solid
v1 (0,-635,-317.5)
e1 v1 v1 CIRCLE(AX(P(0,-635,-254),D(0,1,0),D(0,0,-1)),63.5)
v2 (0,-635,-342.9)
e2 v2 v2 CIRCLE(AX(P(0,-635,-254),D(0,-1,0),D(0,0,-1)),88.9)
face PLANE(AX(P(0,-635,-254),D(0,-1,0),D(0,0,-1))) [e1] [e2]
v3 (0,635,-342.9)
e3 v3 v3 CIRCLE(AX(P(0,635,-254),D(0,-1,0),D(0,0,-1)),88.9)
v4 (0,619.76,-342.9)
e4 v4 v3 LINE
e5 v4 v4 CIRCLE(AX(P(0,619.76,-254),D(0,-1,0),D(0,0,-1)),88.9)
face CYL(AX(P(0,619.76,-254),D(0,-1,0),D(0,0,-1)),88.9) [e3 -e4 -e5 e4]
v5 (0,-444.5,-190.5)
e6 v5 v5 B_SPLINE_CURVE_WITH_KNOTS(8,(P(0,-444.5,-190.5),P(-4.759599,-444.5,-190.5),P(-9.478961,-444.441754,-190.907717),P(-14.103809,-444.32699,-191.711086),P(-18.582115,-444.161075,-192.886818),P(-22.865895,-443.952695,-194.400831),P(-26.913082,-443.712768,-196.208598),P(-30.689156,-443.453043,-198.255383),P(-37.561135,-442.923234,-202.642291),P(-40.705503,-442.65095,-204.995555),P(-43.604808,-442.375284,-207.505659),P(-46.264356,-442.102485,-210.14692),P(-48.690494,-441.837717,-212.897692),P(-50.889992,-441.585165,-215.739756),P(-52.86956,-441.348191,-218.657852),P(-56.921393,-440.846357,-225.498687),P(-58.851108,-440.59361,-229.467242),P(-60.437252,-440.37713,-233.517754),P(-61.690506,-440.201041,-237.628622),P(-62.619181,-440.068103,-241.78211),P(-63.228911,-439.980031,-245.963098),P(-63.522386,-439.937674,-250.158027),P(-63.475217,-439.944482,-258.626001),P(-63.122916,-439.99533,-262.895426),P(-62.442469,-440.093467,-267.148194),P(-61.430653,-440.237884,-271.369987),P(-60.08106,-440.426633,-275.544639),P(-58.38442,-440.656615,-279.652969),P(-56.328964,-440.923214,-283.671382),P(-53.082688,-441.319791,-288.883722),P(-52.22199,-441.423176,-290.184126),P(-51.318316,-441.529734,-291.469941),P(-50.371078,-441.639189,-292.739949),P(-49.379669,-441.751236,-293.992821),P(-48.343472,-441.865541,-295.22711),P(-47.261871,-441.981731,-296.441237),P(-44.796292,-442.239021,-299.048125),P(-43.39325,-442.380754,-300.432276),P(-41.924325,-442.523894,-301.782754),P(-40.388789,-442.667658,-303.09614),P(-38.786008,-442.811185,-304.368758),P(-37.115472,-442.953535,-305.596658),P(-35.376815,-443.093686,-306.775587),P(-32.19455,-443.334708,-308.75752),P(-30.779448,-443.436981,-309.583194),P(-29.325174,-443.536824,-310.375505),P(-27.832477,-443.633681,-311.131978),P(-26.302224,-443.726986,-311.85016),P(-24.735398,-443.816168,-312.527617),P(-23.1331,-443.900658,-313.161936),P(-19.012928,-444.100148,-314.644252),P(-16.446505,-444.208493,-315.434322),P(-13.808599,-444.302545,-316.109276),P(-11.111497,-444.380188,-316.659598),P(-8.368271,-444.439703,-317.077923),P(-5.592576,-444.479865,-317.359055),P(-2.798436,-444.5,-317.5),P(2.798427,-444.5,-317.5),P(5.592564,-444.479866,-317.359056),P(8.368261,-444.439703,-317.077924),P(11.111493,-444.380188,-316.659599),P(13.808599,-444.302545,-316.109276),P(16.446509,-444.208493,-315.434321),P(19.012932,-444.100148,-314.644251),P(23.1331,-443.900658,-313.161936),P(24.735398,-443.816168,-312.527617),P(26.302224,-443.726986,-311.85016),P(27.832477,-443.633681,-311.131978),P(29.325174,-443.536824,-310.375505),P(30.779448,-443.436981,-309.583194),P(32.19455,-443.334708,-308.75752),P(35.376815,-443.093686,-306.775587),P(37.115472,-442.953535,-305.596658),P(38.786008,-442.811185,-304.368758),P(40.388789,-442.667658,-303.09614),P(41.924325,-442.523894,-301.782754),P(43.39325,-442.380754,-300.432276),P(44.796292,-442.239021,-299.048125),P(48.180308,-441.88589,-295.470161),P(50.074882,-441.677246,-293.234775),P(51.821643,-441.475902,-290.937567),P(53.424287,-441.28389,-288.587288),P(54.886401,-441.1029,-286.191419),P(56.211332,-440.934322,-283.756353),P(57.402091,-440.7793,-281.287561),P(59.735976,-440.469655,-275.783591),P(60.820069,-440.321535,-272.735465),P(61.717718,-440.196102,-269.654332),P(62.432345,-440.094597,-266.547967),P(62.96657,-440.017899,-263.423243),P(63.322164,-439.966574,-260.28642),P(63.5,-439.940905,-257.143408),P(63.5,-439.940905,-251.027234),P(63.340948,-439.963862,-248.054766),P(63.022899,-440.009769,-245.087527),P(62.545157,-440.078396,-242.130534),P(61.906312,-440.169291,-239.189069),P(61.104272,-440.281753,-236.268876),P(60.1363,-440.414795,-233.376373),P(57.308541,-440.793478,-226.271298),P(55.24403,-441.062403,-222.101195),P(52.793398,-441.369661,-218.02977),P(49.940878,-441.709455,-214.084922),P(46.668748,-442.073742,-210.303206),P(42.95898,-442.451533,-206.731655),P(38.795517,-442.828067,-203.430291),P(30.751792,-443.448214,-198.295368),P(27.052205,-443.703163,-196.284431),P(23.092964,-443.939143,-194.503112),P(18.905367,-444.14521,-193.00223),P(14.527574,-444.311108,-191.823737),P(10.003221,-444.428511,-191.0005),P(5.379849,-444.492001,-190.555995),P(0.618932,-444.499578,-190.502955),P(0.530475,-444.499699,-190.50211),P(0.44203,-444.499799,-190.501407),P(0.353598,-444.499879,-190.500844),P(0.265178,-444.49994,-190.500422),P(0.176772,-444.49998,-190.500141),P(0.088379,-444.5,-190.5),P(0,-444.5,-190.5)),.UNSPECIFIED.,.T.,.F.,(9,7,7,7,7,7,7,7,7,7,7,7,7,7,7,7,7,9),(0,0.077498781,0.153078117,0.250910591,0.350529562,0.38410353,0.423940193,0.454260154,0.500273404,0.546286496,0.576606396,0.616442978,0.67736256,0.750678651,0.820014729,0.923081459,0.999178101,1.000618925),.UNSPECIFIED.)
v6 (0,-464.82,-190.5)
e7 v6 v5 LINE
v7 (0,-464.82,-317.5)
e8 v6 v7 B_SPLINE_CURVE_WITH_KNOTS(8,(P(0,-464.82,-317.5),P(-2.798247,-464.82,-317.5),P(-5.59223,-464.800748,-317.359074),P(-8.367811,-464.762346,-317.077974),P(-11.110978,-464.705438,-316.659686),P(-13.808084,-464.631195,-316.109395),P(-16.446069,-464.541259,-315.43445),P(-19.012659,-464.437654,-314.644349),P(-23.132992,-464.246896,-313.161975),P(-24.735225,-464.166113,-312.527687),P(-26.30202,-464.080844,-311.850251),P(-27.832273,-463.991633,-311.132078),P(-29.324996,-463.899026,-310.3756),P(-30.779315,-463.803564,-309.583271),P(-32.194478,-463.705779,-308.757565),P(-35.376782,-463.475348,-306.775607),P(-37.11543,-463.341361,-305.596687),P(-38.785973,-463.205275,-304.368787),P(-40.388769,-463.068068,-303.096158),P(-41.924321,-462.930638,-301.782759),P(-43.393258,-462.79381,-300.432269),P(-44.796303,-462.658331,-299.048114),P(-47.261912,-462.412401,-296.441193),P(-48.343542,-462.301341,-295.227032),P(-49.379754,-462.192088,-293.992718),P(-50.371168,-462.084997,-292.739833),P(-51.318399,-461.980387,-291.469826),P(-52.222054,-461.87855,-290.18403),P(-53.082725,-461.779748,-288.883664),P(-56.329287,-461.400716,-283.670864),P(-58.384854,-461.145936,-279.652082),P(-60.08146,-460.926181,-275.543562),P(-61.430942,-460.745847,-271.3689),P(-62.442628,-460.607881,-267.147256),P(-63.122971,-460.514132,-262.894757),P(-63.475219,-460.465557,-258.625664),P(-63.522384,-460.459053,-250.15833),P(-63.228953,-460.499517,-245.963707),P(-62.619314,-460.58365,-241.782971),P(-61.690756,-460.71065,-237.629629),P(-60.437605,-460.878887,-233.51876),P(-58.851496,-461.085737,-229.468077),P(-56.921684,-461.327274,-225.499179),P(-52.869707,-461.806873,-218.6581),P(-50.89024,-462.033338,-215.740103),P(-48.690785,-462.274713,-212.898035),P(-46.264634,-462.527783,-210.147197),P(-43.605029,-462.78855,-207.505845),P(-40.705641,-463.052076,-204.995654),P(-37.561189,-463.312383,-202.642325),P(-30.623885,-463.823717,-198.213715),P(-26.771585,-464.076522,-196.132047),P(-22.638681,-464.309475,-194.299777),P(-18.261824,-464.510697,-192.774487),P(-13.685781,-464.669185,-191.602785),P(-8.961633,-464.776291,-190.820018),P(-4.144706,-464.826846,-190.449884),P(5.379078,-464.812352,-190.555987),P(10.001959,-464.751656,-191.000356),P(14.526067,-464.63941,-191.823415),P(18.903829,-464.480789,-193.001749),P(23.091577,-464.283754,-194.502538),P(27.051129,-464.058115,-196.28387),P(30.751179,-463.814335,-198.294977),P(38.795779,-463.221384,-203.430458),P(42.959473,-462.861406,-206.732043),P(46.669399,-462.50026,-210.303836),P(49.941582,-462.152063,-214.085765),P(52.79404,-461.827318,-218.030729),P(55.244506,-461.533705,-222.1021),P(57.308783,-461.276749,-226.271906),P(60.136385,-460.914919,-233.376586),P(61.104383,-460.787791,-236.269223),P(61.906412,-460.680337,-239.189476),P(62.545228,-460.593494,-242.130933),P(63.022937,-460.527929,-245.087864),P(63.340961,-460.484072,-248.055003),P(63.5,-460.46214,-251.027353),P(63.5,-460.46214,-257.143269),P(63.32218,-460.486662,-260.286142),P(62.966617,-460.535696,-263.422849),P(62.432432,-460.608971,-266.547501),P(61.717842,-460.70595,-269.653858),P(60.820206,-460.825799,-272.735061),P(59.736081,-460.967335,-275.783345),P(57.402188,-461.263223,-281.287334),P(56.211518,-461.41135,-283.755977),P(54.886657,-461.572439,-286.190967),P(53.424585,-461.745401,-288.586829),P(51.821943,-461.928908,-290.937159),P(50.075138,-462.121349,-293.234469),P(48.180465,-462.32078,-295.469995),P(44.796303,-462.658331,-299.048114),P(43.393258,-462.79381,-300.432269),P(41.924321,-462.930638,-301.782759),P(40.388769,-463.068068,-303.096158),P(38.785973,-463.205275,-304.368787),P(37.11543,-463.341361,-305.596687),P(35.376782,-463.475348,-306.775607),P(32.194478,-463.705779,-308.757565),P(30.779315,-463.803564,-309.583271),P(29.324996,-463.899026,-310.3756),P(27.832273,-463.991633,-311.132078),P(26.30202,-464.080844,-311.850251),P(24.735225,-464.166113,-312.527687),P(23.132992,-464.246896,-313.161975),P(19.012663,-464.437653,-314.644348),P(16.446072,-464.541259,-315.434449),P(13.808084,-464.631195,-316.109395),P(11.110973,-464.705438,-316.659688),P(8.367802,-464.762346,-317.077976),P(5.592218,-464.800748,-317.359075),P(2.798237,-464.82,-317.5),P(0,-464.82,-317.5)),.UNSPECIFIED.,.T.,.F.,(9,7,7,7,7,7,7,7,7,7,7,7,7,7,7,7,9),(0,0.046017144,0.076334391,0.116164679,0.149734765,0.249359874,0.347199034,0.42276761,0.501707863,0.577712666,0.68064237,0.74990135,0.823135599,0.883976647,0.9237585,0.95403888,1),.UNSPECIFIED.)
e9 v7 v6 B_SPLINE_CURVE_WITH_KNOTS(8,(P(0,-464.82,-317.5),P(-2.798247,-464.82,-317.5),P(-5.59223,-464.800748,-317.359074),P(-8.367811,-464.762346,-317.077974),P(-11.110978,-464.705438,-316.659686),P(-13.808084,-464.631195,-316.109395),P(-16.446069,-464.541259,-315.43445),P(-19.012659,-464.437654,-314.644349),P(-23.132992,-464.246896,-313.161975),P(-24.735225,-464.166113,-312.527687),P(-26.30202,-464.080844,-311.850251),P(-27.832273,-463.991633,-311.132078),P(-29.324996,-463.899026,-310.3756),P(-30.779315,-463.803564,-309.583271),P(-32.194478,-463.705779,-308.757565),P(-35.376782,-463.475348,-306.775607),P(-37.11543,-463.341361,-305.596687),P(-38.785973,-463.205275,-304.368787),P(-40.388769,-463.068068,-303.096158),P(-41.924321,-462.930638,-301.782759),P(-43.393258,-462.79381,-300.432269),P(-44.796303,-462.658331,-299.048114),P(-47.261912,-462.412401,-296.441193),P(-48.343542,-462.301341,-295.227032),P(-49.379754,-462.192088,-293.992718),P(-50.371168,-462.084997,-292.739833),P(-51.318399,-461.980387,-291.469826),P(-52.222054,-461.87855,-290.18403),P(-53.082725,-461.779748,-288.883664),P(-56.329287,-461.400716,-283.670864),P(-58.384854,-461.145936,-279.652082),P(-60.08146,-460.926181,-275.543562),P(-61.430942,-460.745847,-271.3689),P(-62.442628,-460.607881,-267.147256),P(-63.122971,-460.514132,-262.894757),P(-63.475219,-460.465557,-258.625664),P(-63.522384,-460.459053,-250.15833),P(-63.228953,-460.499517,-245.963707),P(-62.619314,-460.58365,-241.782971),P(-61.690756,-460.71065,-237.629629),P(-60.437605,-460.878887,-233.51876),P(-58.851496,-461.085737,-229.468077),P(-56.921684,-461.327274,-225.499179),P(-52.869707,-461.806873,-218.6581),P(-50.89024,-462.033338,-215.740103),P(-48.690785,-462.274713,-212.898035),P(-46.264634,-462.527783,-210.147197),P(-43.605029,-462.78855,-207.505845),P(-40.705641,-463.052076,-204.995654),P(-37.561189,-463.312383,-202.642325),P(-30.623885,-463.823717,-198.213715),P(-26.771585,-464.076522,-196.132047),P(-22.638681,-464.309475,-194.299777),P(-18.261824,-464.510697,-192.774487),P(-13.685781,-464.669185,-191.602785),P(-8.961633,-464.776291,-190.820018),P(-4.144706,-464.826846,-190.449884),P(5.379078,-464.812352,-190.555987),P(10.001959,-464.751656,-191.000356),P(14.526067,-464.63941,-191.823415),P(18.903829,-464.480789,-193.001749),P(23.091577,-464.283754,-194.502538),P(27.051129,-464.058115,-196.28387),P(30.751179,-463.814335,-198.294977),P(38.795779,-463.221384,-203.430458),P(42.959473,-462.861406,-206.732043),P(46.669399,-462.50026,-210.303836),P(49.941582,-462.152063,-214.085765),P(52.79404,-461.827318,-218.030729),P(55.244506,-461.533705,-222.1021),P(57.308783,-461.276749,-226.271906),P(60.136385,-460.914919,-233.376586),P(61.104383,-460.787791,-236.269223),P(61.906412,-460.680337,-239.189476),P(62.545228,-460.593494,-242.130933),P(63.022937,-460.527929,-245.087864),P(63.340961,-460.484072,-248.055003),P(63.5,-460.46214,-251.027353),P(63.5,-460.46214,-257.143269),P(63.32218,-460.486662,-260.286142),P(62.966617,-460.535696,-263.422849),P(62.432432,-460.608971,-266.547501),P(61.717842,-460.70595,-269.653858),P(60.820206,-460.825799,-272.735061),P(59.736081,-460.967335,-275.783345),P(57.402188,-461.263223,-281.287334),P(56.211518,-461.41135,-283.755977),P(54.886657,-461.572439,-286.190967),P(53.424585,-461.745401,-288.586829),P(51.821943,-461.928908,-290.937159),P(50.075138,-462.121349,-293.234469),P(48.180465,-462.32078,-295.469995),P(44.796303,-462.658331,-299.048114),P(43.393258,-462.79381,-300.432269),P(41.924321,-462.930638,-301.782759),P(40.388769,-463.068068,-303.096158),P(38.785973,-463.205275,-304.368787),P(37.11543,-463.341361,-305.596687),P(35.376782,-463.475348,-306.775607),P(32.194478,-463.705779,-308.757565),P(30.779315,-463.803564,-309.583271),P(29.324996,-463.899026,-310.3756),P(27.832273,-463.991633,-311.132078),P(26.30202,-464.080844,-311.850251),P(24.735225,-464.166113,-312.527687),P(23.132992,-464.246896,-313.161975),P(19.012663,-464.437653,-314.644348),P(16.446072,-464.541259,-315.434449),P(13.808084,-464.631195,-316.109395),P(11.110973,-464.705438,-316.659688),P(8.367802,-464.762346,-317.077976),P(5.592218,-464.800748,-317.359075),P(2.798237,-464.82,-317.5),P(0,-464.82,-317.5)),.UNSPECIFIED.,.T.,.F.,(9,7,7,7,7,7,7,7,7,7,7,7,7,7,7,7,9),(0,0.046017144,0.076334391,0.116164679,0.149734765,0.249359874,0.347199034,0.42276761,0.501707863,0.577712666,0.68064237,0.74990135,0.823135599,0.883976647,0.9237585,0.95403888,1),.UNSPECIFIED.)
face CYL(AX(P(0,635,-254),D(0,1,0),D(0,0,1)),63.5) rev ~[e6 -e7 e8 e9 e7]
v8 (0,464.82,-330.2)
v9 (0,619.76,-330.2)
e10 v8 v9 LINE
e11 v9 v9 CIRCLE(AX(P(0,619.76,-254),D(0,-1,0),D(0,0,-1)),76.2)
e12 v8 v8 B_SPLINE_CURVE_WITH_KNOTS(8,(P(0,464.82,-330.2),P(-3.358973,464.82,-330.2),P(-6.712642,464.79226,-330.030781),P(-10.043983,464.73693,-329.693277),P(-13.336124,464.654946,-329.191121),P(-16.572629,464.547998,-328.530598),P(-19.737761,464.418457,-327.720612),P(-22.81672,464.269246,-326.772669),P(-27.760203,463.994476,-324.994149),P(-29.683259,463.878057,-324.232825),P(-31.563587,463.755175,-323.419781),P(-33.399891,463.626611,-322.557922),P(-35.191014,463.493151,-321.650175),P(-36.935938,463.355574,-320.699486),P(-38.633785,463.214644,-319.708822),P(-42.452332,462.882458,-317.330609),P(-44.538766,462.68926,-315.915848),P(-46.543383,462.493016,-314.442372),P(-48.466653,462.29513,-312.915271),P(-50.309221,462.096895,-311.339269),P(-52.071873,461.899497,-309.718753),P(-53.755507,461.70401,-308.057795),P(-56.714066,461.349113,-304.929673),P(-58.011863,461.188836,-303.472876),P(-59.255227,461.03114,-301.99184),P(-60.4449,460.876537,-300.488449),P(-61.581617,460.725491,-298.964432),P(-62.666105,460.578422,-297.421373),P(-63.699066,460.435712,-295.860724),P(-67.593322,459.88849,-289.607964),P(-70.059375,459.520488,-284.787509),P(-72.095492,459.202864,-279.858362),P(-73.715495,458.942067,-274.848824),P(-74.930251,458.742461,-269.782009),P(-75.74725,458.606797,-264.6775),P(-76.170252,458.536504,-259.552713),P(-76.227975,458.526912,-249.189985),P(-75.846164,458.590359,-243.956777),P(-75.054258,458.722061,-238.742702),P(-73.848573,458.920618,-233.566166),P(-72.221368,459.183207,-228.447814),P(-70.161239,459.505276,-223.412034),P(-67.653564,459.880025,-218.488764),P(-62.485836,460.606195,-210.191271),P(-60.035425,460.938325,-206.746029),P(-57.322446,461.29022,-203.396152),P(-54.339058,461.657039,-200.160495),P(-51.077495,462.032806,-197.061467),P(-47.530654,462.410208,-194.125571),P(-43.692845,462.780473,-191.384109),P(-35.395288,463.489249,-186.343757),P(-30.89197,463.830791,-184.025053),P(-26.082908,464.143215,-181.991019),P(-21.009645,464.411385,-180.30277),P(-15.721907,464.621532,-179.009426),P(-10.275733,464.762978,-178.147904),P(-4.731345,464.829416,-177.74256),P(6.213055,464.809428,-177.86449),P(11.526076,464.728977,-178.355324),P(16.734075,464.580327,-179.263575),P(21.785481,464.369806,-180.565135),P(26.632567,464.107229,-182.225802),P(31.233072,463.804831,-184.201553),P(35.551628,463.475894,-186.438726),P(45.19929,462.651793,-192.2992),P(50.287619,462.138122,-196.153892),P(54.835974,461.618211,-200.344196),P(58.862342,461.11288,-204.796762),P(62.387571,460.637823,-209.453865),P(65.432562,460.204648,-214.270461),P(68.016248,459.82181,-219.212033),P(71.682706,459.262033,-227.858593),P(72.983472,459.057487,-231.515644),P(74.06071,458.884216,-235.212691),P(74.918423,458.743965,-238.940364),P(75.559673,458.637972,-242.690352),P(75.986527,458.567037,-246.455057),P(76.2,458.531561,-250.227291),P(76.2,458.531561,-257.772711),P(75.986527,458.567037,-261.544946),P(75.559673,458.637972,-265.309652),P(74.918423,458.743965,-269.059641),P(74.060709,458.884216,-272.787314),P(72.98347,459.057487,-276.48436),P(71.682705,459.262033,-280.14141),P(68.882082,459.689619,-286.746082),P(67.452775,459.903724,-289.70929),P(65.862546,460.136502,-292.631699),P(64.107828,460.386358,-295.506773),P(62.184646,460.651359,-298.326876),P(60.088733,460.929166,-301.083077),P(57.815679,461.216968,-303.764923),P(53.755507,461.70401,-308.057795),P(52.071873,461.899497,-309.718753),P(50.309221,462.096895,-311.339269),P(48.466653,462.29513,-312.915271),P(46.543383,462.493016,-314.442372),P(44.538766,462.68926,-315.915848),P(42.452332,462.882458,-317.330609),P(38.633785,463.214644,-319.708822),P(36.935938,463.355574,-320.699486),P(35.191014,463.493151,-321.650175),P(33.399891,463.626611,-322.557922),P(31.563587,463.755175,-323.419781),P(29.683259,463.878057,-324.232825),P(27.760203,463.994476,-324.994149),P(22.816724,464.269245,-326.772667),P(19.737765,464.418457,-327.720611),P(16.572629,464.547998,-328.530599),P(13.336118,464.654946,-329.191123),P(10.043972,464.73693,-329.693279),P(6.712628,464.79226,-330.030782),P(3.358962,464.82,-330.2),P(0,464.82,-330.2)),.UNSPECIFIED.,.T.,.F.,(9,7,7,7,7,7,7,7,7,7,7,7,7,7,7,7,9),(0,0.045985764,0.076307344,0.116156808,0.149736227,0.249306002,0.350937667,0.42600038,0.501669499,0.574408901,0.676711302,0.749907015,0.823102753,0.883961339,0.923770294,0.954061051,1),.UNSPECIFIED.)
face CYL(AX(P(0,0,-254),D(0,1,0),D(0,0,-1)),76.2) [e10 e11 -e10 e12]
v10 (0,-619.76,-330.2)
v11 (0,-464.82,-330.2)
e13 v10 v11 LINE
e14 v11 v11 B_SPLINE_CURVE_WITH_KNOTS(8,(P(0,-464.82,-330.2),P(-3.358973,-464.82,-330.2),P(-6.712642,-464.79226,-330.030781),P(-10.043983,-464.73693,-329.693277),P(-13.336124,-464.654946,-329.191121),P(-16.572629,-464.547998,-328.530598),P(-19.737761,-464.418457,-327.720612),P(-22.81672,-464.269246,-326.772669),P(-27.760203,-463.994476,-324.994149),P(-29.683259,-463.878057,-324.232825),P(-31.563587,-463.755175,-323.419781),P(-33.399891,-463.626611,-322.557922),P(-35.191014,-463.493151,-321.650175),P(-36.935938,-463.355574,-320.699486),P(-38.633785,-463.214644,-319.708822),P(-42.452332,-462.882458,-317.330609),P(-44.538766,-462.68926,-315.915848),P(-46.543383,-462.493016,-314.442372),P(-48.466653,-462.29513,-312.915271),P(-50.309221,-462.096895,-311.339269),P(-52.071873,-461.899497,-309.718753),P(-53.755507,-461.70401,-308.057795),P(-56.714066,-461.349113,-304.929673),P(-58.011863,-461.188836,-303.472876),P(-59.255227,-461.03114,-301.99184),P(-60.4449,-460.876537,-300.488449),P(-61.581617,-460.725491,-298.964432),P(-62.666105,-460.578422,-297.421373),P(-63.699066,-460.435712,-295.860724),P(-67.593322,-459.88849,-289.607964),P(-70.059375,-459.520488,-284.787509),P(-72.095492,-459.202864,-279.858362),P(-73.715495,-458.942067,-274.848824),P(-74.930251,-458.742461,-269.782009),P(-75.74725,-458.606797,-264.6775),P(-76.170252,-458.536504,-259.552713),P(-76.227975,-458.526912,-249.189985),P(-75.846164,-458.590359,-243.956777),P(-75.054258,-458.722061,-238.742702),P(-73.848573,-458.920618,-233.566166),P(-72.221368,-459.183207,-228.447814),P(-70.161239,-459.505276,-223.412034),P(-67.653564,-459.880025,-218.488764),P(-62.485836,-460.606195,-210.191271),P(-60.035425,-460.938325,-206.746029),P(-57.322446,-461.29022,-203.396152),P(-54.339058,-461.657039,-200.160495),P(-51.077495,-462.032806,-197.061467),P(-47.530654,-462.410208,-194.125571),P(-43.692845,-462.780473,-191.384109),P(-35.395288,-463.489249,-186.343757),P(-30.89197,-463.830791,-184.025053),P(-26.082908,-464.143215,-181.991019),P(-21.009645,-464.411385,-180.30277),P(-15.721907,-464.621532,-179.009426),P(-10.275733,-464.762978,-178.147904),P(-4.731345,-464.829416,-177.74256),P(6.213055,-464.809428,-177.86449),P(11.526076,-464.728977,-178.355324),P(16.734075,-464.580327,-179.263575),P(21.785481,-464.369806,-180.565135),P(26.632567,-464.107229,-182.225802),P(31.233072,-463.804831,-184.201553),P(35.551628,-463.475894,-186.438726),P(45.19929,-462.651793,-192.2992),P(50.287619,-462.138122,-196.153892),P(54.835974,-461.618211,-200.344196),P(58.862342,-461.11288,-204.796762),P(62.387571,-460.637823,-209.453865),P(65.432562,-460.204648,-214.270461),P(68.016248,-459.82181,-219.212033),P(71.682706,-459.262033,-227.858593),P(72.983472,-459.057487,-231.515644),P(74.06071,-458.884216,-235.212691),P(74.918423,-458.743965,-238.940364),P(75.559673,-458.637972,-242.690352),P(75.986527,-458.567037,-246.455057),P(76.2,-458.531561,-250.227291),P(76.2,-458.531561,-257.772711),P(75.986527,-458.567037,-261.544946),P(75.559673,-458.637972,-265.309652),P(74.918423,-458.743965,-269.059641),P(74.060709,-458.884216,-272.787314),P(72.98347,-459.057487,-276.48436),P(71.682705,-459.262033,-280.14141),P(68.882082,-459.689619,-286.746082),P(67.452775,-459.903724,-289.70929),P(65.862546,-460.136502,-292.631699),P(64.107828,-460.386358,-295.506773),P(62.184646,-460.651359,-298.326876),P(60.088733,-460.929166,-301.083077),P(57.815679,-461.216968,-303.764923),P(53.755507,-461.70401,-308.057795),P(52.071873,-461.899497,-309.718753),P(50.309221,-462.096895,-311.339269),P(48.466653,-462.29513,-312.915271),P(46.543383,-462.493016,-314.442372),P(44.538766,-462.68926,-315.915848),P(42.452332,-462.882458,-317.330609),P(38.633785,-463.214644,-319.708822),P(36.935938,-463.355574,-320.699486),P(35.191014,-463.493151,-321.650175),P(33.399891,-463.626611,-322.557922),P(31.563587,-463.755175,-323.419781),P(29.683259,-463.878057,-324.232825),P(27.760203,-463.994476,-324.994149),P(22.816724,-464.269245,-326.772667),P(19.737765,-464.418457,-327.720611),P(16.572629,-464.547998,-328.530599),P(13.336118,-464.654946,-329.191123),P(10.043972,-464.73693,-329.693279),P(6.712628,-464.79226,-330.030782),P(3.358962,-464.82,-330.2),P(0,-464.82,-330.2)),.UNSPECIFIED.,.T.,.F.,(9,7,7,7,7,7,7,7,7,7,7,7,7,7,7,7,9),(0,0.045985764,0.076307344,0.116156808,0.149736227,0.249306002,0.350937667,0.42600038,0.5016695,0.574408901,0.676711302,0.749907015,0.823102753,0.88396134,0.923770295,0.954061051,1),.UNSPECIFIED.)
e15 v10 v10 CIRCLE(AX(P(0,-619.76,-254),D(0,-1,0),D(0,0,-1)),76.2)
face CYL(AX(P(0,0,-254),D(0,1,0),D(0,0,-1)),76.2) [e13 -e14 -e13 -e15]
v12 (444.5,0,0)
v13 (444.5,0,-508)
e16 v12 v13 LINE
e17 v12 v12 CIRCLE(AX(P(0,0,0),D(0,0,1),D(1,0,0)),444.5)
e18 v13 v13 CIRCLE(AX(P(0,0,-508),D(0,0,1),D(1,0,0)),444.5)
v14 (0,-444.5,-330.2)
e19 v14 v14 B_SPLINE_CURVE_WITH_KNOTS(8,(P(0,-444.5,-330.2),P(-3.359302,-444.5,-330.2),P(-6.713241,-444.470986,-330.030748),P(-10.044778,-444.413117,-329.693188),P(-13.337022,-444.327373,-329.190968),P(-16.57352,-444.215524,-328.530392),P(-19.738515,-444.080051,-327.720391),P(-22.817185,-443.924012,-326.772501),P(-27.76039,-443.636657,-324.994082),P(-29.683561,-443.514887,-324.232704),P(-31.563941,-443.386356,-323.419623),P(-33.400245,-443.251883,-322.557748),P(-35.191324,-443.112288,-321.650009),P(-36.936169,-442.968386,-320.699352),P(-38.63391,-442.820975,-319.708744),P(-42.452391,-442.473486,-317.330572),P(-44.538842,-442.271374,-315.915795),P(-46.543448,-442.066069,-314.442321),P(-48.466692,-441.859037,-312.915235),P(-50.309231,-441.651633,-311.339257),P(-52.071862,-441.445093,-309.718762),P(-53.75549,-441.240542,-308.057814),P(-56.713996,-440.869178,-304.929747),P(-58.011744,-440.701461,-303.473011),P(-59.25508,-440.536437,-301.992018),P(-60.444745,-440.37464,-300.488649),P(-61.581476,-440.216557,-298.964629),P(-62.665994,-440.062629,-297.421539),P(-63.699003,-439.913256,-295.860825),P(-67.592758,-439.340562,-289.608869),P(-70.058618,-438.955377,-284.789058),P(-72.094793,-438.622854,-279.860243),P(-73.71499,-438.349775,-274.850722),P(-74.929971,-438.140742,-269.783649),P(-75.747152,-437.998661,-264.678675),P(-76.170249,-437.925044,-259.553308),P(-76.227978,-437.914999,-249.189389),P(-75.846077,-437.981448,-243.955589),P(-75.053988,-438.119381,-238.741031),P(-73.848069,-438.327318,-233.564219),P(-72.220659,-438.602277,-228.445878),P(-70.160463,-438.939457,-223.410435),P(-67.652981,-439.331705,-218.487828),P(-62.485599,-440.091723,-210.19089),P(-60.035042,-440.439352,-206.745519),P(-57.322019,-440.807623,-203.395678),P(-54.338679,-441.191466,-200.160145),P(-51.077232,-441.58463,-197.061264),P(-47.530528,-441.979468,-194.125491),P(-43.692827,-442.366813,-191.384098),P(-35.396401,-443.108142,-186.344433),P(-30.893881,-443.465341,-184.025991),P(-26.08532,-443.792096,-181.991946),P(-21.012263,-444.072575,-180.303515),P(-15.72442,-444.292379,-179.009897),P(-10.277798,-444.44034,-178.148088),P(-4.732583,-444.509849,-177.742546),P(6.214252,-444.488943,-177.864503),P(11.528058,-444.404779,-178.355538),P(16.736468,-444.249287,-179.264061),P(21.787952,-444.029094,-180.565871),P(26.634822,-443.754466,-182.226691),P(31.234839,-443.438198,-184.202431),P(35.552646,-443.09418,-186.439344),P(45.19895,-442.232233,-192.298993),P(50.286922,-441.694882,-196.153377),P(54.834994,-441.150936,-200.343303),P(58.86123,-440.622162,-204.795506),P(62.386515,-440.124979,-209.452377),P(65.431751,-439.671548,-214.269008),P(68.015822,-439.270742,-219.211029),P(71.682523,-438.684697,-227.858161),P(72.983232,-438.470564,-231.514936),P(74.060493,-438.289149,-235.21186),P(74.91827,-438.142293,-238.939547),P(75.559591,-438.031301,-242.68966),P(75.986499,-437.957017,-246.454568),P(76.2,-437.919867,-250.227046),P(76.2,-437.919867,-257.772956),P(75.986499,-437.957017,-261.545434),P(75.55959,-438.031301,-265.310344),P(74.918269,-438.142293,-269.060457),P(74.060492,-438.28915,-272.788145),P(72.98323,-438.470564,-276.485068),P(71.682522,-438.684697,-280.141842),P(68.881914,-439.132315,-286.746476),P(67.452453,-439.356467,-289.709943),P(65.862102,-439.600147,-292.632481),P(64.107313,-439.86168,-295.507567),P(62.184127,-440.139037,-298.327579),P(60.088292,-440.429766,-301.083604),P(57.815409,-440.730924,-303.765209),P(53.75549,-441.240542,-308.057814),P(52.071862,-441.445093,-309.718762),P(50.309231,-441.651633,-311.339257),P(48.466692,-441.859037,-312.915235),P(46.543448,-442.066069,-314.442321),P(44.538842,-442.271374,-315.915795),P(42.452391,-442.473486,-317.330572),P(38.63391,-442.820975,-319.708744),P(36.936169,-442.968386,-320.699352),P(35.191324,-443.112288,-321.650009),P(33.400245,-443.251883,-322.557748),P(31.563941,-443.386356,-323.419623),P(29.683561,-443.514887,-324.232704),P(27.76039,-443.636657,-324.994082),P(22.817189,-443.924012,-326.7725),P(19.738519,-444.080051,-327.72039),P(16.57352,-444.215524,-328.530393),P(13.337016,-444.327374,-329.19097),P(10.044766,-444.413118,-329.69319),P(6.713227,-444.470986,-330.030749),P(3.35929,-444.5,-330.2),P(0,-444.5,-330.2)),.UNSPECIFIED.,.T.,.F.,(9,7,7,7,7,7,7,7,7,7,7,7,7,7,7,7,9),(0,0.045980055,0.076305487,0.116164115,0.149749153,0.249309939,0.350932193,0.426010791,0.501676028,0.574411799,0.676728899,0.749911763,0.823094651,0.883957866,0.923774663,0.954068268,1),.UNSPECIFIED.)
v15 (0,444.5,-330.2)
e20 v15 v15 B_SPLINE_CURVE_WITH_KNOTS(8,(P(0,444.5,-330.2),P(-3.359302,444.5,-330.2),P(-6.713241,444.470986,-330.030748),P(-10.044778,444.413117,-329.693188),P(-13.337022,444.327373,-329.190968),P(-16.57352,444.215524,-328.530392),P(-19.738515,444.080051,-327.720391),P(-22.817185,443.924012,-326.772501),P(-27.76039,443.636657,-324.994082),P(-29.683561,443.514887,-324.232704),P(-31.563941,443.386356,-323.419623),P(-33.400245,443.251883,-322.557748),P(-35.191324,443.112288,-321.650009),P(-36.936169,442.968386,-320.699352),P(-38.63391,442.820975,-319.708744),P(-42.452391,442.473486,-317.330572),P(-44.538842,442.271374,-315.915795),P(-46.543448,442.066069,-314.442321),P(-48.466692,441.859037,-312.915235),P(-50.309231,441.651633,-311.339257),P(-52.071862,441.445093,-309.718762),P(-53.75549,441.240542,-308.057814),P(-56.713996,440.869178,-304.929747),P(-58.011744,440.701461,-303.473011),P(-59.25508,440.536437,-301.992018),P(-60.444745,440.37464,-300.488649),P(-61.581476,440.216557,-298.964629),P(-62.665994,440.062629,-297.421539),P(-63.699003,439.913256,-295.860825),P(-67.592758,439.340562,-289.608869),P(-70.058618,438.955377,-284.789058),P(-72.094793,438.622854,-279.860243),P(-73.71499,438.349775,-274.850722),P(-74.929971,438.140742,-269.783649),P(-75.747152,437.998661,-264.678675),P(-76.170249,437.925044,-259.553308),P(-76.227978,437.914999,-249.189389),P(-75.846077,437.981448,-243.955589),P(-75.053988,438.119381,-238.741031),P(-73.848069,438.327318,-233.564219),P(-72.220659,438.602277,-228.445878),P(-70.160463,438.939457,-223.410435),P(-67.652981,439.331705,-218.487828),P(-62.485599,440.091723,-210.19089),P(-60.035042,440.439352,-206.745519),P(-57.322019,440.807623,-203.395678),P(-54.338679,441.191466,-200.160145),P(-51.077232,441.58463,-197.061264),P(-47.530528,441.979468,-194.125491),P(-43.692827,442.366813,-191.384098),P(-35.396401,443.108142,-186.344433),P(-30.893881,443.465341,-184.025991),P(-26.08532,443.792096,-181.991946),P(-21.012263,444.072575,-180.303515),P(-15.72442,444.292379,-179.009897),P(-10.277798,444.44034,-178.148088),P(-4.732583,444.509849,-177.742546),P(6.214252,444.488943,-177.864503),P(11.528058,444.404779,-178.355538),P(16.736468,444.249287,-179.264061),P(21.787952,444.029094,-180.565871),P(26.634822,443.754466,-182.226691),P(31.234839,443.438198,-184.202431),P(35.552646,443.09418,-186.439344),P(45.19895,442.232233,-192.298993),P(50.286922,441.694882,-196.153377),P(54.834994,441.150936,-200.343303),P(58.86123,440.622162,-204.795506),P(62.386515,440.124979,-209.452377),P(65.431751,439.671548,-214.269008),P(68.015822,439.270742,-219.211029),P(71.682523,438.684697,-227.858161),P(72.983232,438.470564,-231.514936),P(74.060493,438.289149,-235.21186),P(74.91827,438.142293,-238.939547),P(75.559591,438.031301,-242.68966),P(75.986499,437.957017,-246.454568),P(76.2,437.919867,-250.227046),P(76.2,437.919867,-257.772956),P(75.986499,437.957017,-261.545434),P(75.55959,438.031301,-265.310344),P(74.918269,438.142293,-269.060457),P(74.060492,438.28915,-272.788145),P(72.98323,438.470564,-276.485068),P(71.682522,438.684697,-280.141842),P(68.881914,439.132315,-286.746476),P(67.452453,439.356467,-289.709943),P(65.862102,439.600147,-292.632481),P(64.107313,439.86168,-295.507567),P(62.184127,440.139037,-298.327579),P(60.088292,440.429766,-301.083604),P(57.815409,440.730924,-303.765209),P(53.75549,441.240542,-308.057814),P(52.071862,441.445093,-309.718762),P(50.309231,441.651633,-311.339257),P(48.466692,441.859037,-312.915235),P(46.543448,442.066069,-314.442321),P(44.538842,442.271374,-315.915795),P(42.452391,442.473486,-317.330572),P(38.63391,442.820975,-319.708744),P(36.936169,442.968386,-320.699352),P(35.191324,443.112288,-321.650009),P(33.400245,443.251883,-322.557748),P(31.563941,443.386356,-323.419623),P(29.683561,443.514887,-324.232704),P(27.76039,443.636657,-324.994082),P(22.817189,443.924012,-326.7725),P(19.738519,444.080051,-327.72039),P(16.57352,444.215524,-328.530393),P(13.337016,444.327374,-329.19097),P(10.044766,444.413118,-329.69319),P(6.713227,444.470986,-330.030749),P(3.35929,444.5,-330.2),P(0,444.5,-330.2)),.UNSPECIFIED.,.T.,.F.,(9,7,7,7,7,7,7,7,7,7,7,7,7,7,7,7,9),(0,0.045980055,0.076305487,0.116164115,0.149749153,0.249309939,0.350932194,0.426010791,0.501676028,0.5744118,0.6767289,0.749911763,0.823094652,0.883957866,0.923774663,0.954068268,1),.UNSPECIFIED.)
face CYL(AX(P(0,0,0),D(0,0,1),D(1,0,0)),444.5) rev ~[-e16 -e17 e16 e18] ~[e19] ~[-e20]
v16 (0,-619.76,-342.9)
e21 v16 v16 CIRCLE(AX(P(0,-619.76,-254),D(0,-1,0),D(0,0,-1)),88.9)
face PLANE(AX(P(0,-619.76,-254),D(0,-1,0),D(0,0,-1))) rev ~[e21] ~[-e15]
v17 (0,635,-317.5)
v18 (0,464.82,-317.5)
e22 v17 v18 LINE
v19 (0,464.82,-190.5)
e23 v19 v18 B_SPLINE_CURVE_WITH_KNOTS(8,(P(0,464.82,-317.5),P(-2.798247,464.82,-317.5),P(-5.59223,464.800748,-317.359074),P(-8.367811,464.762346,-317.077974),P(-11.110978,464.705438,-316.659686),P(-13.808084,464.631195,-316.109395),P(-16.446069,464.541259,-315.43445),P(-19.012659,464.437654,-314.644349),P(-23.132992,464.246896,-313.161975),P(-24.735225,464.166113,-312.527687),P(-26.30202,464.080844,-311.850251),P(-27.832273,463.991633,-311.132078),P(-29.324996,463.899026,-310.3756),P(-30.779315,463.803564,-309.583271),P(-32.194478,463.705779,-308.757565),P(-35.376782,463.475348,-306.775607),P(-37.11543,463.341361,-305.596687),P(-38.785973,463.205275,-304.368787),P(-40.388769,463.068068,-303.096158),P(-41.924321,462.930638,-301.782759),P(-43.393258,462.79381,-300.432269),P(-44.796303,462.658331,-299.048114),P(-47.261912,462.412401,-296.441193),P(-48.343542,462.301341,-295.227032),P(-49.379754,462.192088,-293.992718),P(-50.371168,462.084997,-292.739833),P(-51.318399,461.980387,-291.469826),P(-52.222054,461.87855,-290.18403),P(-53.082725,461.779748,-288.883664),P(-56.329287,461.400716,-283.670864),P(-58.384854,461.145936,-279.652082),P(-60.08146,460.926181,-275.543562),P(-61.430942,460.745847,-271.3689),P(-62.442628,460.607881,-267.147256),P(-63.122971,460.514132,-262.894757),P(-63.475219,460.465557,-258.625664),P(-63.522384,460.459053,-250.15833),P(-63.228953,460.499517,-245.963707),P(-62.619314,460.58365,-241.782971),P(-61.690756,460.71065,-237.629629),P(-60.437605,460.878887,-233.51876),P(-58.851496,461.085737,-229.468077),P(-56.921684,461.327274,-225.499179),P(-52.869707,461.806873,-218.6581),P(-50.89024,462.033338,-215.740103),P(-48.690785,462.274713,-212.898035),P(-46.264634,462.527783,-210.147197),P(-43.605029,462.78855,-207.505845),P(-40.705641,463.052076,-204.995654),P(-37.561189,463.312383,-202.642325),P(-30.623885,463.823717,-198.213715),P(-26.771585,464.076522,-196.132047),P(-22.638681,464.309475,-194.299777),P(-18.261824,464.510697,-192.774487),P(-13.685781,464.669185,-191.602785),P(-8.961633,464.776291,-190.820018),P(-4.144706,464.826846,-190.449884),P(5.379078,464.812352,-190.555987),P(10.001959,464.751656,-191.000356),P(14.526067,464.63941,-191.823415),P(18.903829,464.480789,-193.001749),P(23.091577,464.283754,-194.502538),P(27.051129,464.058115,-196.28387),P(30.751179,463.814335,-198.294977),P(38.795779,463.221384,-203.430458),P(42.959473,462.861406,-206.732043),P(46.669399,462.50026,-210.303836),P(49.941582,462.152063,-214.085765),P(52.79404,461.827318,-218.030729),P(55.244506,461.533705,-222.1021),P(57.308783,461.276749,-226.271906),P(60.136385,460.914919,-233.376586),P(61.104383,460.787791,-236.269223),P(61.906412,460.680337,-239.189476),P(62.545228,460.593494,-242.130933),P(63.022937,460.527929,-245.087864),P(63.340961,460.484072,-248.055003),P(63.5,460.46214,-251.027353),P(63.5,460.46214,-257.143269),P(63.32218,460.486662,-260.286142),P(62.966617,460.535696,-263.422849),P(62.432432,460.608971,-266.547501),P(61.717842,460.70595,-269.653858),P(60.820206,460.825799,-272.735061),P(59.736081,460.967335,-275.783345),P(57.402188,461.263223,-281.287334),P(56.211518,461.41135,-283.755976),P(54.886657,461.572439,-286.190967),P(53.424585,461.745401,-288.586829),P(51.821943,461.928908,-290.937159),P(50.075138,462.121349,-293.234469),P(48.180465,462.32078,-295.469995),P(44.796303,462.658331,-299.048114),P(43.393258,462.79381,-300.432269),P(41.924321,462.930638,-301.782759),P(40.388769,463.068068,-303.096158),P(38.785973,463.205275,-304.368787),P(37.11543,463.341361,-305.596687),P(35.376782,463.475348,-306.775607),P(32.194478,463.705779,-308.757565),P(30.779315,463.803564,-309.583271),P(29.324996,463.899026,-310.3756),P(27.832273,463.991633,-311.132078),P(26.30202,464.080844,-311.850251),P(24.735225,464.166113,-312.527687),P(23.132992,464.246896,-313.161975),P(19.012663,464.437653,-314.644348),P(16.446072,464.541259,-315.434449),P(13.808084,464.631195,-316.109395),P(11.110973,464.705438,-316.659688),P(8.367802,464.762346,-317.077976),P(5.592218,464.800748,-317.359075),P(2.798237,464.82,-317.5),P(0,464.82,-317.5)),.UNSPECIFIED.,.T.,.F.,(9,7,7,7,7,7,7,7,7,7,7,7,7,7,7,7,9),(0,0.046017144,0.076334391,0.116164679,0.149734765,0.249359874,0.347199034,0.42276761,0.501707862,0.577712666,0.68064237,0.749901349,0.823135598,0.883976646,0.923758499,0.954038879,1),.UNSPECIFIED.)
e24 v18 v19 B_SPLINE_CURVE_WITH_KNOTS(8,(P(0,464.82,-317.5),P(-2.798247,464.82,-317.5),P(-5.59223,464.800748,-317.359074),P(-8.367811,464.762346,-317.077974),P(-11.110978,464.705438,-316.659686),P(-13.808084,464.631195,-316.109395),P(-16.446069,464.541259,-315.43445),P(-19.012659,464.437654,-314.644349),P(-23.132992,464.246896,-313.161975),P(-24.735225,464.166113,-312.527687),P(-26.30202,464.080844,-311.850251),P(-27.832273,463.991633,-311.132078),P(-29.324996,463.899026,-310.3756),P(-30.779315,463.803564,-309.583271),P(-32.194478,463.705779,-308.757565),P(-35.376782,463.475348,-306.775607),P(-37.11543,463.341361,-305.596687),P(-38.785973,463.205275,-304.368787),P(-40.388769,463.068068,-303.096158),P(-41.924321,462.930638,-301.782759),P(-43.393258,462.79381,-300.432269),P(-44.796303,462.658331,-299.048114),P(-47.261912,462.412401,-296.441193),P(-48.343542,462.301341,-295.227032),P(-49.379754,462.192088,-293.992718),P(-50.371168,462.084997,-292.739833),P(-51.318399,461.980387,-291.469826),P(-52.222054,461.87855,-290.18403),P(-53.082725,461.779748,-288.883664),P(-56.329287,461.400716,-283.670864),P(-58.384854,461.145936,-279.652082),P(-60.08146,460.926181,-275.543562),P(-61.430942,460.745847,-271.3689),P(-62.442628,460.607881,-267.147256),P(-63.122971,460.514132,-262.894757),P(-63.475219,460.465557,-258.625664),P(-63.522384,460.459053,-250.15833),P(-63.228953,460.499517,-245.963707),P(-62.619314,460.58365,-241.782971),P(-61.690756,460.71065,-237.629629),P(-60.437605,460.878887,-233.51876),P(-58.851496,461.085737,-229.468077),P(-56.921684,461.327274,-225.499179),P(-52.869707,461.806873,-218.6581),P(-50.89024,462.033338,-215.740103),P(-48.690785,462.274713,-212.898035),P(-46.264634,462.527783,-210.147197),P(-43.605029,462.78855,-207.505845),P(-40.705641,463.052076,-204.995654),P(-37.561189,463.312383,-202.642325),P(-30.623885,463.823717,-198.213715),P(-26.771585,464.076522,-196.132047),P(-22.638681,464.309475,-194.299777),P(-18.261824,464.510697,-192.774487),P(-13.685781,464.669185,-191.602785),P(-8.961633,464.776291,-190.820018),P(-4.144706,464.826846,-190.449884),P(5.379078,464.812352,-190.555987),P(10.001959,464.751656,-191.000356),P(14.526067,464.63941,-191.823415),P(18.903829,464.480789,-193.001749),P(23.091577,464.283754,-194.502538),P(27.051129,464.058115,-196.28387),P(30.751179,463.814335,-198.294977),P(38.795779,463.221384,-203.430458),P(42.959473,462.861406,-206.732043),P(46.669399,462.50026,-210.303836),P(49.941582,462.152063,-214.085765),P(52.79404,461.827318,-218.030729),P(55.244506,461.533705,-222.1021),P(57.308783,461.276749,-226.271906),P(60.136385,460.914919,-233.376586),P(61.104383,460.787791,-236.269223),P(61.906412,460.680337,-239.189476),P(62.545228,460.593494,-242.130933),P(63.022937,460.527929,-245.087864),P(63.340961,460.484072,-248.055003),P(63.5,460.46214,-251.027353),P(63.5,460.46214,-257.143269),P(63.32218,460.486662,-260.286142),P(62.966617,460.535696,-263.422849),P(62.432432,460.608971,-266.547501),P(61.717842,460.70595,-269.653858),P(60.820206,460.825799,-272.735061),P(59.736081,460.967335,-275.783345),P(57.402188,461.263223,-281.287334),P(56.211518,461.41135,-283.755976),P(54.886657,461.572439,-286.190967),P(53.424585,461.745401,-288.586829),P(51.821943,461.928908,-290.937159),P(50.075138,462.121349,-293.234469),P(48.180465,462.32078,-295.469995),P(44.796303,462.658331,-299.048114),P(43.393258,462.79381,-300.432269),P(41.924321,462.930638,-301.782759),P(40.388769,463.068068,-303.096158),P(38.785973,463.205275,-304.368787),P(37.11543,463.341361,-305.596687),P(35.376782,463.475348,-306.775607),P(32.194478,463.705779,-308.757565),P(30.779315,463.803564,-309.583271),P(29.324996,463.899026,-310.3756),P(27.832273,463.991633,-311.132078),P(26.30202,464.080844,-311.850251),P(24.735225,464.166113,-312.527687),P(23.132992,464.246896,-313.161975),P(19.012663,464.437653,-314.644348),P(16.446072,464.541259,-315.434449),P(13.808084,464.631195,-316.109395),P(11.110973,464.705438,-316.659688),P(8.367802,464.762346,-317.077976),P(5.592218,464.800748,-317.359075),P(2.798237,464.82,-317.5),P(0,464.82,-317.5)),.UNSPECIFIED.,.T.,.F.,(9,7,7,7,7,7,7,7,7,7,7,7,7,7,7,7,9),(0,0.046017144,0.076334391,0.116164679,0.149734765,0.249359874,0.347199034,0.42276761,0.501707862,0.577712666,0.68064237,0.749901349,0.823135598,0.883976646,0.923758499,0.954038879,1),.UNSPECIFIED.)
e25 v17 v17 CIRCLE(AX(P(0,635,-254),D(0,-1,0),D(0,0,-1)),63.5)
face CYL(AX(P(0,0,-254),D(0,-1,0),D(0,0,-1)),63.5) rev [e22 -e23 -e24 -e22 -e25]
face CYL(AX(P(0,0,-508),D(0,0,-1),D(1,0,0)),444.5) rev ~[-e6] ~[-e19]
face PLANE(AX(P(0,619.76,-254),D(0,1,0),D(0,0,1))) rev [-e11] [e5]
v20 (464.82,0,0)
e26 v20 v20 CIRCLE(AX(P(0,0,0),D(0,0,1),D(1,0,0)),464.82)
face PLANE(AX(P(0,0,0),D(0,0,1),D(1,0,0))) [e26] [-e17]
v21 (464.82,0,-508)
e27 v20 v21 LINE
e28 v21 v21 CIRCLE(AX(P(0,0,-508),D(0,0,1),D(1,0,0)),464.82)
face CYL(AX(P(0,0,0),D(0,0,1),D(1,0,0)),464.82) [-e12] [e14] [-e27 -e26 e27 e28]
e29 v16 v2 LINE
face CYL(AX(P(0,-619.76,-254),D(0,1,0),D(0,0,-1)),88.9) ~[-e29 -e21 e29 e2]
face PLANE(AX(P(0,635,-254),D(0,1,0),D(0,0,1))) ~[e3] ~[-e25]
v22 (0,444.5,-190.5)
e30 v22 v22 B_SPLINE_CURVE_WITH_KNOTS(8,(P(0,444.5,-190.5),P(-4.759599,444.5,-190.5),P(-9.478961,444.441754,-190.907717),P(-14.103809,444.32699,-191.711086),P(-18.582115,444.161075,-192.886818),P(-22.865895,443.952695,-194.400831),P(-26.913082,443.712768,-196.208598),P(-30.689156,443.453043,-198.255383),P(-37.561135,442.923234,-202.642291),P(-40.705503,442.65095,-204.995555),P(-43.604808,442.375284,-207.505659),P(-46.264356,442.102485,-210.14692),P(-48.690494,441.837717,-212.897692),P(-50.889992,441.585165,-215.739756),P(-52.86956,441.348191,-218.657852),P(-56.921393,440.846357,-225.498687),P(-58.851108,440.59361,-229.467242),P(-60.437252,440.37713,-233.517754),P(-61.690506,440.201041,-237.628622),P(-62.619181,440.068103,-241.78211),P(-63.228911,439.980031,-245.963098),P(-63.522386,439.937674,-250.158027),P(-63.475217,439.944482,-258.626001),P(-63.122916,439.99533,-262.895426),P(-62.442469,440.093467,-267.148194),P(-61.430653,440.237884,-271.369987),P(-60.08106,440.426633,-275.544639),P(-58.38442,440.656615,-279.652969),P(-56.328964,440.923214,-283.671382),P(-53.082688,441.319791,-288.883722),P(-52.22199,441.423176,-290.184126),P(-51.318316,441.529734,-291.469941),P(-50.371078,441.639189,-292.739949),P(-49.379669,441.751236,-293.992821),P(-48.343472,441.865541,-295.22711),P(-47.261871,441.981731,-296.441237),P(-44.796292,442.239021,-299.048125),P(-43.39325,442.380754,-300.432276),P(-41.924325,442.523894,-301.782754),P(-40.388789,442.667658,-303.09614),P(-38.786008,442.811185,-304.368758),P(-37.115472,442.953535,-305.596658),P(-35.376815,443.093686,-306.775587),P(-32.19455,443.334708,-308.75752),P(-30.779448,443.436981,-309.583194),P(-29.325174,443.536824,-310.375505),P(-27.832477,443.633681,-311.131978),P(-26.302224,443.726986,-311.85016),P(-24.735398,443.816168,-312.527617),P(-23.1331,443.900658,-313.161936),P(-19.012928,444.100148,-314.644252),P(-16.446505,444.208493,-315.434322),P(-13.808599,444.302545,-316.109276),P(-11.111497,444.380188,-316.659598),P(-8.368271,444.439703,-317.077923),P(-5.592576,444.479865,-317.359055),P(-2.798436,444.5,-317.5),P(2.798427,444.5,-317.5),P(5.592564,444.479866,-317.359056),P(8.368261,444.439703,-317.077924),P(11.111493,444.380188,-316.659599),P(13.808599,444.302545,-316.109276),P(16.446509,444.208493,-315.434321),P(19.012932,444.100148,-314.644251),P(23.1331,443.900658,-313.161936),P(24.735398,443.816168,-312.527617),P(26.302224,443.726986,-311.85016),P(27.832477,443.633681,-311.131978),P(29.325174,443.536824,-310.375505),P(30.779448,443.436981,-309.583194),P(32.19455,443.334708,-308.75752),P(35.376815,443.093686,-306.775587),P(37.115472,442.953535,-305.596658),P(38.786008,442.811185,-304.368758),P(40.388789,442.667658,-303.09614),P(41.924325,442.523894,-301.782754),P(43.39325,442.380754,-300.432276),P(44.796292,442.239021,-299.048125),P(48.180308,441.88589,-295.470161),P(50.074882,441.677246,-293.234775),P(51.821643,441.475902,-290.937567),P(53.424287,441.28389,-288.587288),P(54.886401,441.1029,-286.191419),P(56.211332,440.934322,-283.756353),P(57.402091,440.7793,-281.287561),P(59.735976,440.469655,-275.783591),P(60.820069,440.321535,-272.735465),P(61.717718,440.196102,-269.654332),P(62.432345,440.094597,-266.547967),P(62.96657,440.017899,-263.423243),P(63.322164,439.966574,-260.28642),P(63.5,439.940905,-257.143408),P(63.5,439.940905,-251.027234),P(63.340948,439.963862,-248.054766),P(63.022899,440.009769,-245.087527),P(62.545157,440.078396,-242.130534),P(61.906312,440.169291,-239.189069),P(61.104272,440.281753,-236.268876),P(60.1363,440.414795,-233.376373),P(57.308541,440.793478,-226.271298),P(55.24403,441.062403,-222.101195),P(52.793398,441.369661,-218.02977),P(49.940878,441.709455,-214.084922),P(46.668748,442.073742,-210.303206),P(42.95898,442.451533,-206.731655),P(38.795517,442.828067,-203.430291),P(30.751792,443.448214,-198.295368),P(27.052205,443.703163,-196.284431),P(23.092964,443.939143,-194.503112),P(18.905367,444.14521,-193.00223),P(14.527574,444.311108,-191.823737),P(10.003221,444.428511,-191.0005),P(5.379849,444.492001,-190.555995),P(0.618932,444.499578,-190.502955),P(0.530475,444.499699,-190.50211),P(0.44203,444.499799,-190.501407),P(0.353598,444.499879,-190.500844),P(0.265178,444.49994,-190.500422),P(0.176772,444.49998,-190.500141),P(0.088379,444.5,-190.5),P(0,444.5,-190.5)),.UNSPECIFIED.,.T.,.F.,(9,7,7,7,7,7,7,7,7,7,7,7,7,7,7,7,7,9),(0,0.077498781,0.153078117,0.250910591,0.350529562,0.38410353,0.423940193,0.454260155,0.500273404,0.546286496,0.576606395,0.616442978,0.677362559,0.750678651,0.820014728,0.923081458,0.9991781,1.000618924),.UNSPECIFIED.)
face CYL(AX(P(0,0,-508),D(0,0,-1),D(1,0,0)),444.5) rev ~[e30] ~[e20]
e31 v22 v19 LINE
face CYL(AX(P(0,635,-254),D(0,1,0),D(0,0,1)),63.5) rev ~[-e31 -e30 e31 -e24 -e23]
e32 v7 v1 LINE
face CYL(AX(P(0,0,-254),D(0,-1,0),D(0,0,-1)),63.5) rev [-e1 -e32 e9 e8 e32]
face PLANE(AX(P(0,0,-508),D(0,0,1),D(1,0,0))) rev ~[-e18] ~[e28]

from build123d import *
from build123d.topology import SkipClean

# Parameters (mm, degrees)
SKETCH1_R           = 464.82
SKETCH1_R_2         = 444.5
BOSS_EXTRUDE1_DEPTH = 508
SKETCH2_R           = 76.2
SKETCH2_R_2         = 63.5
BOSS_EXTRUDE2_DEPTH = 635
SKETCH3_R           = 444.5
CUT_EXTRUDE1_DEPTH  = 698.5
SKETCH4_R           = 63.5
CUT_EXTRUDE2_DEPTH  = 1810.258
BOSS_EXTRUDE3_START = -15.24
SKETCH5_R           = 88.9
SKETCH5_R_2         = 76.2
BOSS_EXTRUDE3_DEPTH = 15.24


with BuildPart() as part:
    # Sketch1 → Boss-Extrude1 (new body)
    with BuildSketch(Plane.XY):
        Circle(SKETCH1_R)
        Circle(SKETCH1_R_2, mode=Mode.SUBTRACT)
    extrude(amount=-BOSS_EXTRUDE1_DEPTH)

    # Sketch2 → Boss-Extrude2 (add, symmetric)
    with BuildSketch(Plane(origin=(0, 0, 0), x_dir=(1, 0, 0), z_dir=(0, 1, 0))):
        with Locations(Location((0, 254, 0), (0, 0, 90))):
            Circle(SKETCH2_R)
        with Locations(Location((0, 254, 0), (0, 0, 90))):
            Circle(SKETCH2_R_2, mode=Mode.SUBTRACT)
    extrude(amount=BOSS_EXTRUDE2_DEPTH, both=True)

    # Sketch3 → Cut-Extrude1 (cut, symmetric)
    with BuildSketch(Plane(origin=(0, 0, -508), x_dir=(-1, 0, 0), z_dir=(0, 0, -1))):
        with Locations(Location((0, 0, 0), (0, 0, 180))):
            Circle(SKETCH3_R)
    extrude(amount=CUT_EXTRUDE1_DEPTH, both=True, mode=Mode.SUBTRACT)

    # Sketch4 → Cut-Extrude2 (cut, symmetric)
    with SkipClean():  # the faces are left unmerged after this step: merging them gives an invalid solid
        with BuildSketch(Plane(origin=(0, 635, 0), x_dir=(1, 0, 0), z_dir=(0, 1, 0))):
            with Locations(Location((0, 254, 0), (0, 0, 270))):
                Circle(SKETCH4_R)
        extrude(amount=CUT_EXTRUDE2_DEPTH, both=True, mode=Mode.SUBTRACT)

    # Sketch5 → Boss-Extrude3 (add)
    with SkipClean():  # the faces are left unmerged after this step: merging them gives an invalid solid
        with BuildSketch(Plane.XZ.offset(635).offset(BOSS_EXTRUDE3_START)):
            with Locations(Location((0, -254, 0), (0, 0, 270))):
                Circle(SKETCH5_R)
            with Locations(Location((0, -254, 0), (0, 0, 270))):
                Circle(SKETCH5_R_2, mode=Mode.SUBTRACT)
        boss_extrude3 = extrude(amount=BOSS_EXTRUDE3_DEPTH)

    # Mirror1: Boss-Extrude3 across plane
    add(boss_extrude3.mirror(Plane.ZX))


solid = part.part
